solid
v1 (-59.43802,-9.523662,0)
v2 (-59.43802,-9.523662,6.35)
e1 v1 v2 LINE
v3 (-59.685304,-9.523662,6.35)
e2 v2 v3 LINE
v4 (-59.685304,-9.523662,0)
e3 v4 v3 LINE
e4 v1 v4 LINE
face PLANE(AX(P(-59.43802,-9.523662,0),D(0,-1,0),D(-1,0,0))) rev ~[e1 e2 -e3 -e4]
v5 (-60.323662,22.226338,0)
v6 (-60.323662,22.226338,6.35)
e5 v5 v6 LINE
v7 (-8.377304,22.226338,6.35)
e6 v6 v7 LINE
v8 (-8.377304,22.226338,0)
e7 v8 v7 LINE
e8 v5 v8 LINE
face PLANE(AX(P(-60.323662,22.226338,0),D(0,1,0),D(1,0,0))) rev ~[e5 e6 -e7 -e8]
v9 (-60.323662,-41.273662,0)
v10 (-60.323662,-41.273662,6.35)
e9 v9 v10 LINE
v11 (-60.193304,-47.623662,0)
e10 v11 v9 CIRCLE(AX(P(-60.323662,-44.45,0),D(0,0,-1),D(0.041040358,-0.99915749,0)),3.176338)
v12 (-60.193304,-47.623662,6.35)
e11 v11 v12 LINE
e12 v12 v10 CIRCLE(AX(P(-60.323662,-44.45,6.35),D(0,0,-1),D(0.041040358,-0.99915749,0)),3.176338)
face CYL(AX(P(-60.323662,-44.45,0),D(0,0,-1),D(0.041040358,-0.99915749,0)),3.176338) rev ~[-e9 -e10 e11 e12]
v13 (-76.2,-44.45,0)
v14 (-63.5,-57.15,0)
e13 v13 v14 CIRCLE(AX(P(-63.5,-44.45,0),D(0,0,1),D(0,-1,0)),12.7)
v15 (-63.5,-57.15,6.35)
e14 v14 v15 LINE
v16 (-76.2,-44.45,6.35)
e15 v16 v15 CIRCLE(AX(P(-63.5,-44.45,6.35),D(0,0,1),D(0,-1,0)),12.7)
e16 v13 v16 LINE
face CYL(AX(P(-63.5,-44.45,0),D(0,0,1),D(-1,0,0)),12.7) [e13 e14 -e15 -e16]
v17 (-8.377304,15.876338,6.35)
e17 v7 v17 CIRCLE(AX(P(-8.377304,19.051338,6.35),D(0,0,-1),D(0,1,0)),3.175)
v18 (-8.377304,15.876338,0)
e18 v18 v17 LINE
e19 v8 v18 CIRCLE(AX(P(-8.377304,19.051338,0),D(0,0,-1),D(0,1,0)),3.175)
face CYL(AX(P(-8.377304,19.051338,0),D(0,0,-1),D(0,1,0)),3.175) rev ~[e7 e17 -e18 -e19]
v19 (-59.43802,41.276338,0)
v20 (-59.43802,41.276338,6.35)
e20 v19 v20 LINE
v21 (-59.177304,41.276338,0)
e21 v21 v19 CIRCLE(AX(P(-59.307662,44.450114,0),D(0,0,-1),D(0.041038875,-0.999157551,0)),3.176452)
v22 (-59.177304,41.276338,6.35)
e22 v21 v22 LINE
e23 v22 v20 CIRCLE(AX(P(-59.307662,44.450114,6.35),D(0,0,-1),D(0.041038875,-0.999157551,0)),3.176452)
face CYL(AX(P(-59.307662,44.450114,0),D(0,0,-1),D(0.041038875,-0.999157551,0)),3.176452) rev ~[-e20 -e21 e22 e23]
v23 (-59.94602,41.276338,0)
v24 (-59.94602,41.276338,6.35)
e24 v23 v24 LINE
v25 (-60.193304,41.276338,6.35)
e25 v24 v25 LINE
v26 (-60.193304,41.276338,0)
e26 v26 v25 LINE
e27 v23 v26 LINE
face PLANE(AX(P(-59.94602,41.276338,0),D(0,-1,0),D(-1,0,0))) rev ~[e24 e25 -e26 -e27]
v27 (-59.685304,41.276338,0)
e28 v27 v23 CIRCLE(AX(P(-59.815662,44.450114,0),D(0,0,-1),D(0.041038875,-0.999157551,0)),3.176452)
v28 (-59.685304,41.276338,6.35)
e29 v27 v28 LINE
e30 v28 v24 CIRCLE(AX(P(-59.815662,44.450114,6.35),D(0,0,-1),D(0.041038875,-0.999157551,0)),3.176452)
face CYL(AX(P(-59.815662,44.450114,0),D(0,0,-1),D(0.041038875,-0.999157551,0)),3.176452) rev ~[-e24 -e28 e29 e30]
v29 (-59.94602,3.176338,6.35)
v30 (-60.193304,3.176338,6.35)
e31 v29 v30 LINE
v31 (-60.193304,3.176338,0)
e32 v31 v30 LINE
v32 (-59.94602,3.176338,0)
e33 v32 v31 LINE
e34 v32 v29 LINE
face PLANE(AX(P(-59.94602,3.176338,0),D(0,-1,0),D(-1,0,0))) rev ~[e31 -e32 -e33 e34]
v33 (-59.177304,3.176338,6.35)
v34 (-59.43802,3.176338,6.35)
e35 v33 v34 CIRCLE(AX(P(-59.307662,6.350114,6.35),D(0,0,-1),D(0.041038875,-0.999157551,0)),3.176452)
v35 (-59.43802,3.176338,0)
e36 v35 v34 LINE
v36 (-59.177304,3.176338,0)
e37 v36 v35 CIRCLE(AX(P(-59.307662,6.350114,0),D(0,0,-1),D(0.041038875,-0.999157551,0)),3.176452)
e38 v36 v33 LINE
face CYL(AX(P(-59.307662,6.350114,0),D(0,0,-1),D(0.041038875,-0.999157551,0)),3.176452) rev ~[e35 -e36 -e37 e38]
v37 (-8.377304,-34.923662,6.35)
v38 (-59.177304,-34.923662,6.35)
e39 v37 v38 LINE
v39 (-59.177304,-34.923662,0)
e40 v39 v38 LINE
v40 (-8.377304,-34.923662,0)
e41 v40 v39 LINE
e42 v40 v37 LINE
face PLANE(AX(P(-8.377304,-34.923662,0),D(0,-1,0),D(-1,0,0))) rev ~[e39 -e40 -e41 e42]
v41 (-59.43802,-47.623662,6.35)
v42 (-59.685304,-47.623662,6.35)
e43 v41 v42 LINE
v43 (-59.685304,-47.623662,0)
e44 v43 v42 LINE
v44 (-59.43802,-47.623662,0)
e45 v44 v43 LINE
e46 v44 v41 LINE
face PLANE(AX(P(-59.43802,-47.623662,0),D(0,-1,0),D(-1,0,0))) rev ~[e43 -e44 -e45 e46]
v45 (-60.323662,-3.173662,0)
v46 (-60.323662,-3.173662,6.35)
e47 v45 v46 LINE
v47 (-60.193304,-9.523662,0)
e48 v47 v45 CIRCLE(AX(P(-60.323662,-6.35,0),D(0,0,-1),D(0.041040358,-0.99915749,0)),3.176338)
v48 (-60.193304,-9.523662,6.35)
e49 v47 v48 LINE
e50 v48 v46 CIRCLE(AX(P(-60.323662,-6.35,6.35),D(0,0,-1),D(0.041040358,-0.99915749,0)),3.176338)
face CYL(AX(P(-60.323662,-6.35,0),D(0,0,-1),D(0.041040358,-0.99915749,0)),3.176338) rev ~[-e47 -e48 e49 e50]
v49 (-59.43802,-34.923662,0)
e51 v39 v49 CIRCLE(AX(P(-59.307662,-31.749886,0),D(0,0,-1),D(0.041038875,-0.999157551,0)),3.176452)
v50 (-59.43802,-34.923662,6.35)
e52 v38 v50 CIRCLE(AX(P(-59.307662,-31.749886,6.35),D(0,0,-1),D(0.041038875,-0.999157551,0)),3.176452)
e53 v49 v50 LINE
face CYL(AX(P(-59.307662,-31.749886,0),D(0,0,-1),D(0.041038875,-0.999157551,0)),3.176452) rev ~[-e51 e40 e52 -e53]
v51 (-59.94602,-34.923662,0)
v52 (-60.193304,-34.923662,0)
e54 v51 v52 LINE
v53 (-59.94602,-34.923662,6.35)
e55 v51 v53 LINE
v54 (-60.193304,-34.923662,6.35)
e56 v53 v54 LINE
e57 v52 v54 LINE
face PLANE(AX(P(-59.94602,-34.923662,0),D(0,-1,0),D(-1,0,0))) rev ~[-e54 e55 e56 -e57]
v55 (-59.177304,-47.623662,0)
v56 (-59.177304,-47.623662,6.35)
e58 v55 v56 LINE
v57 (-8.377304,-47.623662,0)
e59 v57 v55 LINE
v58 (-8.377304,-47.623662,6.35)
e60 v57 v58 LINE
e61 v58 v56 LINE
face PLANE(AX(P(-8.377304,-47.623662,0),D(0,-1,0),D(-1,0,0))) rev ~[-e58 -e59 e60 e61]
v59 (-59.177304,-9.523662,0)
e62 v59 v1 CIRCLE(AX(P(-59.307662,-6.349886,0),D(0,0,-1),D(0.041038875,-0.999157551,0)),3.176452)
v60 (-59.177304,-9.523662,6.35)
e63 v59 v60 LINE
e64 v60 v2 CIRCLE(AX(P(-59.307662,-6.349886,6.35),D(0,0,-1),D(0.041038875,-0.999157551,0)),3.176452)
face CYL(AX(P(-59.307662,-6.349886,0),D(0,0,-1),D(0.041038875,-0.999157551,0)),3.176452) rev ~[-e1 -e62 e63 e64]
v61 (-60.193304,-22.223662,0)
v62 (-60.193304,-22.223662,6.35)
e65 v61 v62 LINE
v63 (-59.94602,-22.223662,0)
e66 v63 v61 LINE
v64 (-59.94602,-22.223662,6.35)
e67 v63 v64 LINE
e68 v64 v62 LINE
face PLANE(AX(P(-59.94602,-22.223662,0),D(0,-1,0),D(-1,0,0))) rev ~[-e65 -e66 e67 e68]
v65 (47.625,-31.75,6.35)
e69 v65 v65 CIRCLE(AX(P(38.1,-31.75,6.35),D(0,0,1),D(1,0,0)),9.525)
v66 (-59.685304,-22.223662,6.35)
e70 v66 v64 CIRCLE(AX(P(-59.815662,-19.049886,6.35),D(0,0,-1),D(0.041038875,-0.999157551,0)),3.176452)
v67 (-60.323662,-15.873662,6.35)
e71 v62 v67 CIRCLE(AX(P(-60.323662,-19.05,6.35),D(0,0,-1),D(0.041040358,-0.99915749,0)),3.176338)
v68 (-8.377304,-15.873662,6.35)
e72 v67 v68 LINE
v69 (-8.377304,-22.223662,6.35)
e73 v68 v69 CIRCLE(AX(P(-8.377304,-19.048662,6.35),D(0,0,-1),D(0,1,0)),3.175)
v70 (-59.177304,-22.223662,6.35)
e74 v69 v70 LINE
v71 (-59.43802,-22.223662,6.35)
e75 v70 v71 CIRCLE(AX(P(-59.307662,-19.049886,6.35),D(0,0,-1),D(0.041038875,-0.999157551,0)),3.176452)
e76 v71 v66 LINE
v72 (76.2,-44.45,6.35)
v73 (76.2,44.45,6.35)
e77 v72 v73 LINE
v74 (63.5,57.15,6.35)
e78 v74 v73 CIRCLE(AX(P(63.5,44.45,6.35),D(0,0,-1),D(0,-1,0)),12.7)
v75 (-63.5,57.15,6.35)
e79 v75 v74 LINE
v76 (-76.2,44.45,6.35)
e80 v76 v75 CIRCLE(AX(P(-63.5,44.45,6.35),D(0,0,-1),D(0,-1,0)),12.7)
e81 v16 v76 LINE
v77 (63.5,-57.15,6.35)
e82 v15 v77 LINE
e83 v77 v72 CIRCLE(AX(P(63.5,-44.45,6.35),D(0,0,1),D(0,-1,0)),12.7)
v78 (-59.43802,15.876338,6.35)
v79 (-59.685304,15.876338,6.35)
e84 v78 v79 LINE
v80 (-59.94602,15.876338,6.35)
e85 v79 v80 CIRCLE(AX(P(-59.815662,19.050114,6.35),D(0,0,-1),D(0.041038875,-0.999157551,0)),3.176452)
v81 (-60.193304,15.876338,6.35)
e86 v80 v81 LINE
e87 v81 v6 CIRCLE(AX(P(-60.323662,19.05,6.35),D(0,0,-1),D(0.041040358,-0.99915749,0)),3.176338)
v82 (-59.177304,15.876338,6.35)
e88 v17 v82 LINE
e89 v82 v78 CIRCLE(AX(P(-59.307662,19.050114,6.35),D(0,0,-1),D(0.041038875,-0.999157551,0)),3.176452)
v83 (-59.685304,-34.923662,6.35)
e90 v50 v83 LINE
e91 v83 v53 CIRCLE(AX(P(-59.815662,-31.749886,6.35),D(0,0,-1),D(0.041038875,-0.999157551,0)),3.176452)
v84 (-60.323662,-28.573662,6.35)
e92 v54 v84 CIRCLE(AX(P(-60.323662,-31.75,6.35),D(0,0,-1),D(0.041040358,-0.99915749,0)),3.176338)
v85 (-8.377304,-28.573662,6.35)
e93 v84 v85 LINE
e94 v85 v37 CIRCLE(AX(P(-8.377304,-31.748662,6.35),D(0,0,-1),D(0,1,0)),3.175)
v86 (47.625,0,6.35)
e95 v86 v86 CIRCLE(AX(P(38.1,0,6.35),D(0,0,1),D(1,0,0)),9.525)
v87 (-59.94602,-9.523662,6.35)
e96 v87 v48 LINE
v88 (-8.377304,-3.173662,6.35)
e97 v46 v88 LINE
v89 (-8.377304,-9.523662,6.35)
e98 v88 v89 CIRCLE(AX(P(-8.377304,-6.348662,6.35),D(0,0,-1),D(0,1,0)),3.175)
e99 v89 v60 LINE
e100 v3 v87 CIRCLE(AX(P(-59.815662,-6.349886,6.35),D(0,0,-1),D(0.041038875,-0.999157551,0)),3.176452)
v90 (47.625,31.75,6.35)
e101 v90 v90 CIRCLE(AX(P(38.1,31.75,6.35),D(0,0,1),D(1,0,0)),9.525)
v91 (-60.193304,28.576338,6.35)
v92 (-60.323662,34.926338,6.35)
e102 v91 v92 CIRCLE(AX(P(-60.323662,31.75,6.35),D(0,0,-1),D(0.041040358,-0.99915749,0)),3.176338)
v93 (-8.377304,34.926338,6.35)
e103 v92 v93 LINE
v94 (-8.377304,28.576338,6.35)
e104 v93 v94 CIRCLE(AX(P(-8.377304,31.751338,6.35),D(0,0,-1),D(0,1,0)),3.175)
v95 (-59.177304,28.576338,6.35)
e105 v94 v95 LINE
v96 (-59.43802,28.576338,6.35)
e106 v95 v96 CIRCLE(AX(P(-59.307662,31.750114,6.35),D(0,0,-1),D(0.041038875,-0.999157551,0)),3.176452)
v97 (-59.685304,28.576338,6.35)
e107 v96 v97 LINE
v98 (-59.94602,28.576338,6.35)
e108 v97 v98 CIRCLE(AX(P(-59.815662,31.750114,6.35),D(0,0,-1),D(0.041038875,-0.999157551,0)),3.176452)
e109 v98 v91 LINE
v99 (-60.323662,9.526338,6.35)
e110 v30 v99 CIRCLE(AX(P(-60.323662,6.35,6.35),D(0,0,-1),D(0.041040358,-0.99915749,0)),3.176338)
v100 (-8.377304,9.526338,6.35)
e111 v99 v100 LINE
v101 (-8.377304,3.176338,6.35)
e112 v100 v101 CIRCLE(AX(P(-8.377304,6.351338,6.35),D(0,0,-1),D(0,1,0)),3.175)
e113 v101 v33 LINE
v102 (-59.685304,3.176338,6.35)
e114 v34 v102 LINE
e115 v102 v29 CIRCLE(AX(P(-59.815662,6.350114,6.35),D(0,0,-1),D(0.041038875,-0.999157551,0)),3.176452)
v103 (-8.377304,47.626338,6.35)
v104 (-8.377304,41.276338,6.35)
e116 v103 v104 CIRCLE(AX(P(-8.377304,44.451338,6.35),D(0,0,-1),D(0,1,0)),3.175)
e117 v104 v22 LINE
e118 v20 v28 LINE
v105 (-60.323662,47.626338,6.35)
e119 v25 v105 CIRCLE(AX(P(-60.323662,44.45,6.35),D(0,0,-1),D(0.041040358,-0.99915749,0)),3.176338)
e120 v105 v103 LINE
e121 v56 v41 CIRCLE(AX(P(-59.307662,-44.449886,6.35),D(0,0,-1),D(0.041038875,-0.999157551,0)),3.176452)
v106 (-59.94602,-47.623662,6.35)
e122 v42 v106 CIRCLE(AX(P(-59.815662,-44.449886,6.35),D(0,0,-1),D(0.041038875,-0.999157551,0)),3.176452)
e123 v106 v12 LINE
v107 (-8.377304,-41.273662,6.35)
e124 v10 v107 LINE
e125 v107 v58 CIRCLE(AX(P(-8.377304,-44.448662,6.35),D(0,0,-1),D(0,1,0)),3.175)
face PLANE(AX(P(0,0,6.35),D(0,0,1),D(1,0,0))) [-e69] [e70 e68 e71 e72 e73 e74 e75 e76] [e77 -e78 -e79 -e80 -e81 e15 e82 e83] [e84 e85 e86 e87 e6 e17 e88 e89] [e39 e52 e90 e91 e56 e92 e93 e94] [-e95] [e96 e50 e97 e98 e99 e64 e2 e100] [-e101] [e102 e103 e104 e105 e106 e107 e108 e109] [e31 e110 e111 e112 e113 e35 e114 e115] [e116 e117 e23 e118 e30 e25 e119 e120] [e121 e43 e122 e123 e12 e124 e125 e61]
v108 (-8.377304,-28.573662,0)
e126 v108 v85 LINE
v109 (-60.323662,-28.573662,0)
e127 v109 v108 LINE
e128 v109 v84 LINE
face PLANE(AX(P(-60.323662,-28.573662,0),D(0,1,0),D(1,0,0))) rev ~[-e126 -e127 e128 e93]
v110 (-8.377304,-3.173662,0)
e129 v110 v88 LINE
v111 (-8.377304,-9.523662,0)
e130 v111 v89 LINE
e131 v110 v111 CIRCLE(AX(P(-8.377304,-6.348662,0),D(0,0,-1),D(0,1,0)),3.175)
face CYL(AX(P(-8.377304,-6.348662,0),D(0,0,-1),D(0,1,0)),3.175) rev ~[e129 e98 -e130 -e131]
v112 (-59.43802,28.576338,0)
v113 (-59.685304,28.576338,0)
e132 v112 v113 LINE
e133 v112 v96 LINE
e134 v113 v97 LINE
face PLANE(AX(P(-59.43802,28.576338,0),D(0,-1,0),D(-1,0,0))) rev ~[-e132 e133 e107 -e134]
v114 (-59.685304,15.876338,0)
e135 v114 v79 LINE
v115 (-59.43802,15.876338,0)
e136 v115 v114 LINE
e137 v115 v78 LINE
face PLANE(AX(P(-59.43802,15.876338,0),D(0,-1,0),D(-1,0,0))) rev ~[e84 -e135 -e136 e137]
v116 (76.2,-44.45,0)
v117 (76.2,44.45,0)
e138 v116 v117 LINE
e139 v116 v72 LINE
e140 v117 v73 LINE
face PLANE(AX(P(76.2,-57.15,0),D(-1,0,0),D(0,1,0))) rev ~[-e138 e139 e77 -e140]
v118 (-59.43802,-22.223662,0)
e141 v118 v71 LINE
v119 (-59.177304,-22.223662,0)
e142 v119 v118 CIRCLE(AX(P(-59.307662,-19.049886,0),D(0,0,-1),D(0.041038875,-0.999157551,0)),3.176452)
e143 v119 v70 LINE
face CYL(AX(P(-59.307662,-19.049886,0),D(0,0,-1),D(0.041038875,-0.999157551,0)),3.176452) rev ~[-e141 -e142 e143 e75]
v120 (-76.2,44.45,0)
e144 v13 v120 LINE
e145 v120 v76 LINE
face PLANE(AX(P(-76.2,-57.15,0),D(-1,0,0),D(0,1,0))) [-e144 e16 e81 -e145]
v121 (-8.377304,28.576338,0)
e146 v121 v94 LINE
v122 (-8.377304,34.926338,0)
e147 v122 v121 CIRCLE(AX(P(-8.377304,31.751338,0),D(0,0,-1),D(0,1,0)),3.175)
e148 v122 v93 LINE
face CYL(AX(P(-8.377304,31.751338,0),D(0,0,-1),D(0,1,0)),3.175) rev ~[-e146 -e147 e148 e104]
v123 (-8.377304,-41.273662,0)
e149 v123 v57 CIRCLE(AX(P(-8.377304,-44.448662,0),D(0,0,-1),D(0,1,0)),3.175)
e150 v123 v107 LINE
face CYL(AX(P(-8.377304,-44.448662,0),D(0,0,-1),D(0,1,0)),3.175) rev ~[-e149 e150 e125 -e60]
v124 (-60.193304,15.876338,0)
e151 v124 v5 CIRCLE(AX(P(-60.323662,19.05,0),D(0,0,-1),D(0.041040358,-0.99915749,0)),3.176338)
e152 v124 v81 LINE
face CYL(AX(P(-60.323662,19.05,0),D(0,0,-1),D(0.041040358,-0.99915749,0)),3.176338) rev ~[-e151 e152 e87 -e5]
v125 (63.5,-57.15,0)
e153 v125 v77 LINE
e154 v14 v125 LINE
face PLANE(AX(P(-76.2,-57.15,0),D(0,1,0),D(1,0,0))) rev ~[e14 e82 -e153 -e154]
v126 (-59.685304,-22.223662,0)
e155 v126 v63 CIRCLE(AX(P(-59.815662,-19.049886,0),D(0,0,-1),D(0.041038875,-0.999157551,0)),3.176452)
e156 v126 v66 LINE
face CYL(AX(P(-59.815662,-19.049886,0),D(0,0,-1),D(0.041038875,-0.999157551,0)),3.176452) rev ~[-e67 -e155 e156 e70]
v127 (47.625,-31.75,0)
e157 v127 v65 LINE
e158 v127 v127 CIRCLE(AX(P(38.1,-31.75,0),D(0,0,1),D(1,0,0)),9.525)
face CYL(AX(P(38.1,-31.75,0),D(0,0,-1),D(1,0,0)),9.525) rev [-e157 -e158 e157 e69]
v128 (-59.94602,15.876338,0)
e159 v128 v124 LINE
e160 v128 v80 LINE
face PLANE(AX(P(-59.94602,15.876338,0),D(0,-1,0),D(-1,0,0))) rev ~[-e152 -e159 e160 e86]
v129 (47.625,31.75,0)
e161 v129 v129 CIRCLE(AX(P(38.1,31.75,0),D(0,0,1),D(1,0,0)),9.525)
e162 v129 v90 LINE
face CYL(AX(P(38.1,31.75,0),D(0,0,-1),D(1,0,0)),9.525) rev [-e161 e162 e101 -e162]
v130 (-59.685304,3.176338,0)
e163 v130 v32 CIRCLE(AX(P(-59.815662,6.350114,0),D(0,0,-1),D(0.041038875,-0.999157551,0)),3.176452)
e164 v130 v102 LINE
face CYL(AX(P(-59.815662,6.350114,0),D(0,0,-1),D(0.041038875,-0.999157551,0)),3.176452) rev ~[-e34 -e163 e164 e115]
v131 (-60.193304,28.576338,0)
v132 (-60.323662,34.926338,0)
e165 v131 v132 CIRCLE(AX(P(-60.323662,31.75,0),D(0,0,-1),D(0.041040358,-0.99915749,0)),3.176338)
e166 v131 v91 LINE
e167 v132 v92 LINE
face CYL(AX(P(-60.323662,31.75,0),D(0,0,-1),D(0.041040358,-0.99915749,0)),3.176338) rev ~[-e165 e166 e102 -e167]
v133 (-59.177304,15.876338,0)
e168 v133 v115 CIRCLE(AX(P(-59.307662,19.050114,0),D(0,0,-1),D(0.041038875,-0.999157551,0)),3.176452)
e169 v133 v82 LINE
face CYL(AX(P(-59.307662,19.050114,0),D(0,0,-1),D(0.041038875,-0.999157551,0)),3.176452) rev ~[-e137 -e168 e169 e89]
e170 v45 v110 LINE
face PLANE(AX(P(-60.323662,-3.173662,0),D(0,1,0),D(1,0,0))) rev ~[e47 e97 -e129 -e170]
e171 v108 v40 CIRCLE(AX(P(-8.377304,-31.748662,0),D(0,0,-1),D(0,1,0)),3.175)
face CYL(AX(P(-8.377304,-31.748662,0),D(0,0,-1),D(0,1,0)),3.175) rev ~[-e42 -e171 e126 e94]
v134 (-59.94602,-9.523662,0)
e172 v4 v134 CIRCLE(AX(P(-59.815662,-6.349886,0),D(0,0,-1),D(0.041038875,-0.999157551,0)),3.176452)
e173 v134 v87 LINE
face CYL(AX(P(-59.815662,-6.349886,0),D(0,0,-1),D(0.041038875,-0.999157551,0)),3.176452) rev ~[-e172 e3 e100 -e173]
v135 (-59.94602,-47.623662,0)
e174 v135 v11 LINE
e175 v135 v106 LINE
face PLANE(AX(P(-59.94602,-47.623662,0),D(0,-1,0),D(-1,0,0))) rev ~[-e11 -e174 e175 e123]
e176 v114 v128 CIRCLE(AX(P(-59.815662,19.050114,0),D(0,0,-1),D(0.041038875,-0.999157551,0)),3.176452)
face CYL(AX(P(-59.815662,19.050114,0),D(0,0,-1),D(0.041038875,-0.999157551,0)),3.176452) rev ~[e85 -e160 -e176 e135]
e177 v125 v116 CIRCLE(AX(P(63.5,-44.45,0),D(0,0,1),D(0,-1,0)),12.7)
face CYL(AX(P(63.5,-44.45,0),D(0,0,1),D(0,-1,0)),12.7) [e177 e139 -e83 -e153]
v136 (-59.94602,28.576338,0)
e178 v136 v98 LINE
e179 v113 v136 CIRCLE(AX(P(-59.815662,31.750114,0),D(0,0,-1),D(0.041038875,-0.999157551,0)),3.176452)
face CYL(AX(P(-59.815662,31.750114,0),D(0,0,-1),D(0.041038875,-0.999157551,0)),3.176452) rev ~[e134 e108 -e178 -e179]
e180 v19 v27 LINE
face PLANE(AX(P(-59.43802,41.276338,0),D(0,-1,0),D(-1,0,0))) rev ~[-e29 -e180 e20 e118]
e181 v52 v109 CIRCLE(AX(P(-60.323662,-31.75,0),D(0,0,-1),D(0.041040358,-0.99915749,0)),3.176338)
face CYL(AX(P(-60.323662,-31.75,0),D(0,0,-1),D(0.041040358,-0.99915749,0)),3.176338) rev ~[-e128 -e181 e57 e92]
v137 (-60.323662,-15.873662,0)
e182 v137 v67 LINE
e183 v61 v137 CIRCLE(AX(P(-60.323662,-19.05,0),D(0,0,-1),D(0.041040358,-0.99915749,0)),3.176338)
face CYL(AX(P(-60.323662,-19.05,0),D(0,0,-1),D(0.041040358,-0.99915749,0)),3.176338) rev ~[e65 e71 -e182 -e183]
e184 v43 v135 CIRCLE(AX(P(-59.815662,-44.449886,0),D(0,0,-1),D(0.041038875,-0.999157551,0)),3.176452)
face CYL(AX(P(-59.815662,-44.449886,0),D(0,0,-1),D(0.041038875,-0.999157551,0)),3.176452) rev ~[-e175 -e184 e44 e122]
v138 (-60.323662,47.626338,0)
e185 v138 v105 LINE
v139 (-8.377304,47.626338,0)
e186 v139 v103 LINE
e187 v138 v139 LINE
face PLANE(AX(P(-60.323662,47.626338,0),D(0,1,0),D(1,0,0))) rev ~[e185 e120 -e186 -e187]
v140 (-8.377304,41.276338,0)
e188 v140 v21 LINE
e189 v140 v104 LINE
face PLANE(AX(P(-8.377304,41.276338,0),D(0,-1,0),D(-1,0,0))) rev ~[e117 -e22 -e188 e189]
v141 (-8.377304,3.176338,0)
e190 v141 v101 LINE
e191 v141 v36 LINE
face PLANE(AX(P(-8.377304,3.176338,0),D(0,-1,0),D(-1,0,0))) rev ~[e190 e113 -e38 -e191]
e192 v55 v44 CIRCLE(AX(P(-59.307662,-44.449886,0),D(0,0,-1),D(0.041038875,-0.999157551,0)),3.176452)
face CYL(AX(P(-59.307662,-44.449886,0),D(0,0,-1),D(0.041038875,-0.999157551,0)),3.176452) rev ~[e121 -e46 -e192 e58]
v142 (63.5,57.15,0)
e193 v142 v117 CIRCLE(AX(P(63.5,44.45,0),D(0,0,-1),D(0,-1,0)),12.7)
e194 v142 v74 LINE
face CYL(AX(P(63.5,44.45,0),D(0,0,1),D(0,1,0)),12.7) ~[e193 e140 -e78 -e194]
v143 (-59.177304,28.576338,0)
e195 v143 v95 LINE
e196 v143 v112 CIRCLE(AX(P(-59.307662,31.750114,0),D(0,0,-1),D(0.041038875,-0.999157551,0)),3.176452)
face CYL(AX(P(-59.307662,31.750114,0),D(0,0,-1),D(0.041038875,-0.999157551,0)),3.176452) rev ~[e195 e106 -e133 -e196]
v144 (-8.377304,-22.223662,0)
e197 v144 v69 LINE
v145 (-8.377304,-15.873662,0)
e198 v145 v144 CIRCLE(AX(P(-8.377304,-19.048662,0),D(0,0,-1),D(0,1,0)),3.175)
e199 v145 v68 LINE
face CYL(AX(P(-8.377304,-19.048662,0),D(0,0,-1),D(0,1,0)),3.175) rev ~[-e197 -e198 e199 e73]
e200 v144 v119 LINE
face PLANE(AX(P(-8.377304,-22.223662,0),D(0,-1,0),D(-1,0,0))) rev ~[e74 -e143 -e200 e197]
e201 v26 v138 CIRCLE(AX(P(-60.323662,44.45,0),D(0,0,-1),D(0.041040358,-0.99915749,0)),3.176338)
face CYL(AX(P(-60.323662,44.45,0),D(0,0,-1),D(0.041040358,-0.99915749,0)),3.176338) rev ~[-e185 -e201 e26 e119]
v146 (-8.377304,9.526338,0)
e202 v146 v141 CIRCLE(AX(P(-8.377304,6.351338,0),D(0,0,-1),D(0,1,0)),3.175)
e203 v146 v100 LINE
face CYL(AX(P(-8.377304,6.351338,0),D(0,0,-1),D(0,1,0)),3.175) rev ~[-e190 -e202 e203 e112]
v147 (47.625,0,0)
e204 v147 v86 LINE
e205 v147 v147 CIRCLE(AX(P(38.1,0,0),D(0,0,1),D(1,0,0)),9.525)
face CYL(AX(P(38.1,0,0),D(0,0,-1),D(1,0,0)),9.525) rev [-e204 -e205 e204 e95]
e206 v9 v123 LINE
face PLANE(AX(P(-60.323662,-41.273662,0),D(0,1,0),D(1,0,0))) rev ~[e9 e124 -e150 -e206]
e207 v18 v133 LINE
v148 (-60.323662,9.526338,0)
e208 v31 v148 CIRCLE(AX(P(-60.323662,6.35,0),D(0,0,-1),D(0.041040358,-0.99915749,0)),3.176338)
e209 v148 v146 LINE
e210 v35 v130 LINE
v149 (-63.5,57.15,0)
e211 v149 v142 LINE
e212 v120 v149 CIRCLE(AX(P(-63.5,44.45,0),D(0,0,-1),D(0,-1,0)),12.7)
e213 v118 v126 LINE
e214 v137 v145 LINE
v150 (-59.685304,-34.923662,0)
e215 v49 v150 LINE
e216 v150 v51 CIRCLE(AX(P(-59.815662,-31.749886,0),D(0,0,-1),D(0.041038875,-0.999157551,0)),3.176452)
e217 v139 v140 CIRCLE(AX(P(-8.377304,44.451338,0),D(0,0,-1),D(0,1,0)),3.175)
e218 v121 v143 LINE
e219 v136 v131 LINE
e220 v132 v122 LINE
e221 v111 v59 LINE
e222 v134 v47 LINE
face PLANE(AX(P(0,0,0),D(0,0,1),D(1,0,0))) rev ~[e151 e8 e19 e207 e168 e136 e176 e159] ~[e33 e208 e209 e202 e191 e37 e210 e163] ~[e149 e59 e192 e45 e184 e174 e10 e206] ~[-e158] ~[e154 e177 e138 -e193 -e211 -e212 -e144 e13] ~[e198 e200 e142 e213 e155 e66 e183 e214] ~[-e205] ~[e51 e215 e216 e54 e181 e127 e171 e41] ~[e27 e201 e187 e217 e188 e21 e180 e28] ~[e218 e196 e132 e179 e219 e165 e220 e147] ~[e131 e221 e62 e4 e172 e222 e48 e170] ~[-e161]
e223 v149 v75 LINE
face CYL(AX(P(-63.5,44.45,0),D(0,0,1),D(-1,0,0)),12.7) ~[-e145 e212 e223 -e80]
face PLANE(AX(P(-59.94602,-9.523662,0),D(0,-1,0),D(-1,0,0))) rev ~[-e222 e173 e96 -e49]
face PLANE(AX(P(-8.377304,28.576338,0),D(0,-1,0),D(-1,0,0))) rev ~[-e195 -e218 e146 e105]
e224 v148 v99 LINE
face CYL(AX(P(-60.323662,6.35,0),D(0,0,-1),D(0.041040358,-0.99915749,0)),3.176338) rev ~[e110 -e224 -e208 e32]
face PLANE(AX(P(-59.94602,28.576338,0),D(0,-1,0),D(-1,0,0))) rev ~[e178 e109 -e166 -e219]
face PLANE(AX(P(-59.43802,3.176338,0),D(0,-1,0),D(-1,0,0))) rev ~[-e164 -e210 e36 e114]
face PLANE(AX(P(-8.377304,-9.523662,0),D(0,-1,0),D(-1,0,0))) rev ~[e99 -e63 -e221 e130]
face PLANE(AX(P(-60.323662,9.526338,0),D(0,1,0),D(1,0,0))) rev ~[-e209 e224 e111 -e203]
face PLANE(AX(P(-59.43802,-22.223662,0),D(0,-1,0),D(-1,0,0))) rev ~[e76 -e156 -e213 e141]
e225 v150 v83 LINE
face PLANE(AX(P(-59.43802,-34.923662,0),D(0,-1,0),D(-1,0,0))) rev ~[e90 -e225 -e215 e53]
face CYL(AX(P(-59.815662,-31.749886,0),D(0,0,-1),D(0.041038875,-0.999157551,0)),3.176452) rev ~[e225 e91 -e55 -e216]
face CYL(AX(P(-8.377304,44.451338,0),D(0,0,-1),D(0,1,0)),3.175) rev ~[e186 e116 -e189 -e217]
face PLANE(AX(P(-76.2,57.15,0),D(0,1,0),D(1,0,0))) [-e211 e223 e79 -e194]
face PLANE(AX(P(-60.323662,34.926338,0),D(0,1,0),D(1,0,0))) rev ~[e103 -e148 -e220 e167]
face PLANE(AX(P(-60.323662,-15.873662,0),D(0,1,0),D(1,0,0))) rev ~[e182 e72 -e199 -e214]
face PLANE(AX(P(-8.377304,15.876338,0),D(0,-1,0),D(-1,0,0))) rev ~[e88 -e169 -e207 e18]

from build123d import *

# Parameters (mm, degrees)
F0_W     = 152.4
F0_H     = 114.3
F0_R     = 9.525
F1_DEPTH = 6.35
F2_R     = 12.7


with BuildPart() as f1:
    # F0 (on Top) → F1 (new body)
    with BuildSketch(Plane.XY):
        Rectangle(F0_W, F0_H)
        with BuildLine():
            Line((-8.885304, -47.623662), (-9.393304, -47.623662))
            Line((-9.393304, -47.623662), (-59.177304, -47.623662))
            ThreePointArc((-59.177304, -47.623662), (-59.307662, -47.626338), (-59.43802, -47.623662))
            Line((-59.43802, -47.623662), (-59.685304, -47.623662))
            ThreePointArc((-59.685304, -47.623662), (-59.815662, -47.626338), (-59.94602, -47.623662))
            Line((-59.94602, -47.623662), (-60.193304, -47.623662))
            ThreePointArc((-60.193304, -47.623662), (-63.499331, -44.515193), (-60.323662, -41.273662))
            Line((-60.323662, -41.273662), (-59.815662, -41.273662))
            Line((-59.815662, -41.273662), (-59.307662, -41.273662))
            Line((-59.307662, -41.273662), (-9.393304, -41.273662))
            Line((-9.393304, -41.273662), (-8.885304, -41.273662))
            Line((-8.885304, -41.273662), (-8.377304, -41.273662))
            ThreePointArc((-8.377304, -41.273662), (-5.202304, -44.448662), (-8.377304, -47.623662))
            Line((-8.377304, -47.623662), (-8.885304, -47.623662))
        make_face(mode=Mode.SUBTRACT)
        with BuildLine():
            Line((-8.885304, -34.923662), (-9.393304, -34.923662))
            Line((-9.393304, -34.923662), (-59.177304, -34.923662))
            ThreePointArc((-59.177304, -34.923662), (-59.307662, -34.926338), (-59.43802, -34.923662))
            Line((-59.43802, -34.923662), (-59.685304, -34.923662))
            ThreePointArc((-59.685304, -34.923662), (-59.815662, -34.926338), (-59.94602, -34.923662))
            Line((-59.94602, -34.923662), (-60.193304, -34.923662))
            ThreePointArc((-60.193304, -34.923662), (-63.499331, -31.815193), (-60.323662, -28.573662))
            Line((-60.323662, -28.573662), (-59.815662, -28.573662))
            Line((-59.815662, -28.573662), (-59.307662, -28.573662))
            Line((-59.307662, -28.573662), (-9.393304, -28.573662))
            Line((-9.393304, -28.573662), (-8.885304, -28.573662))
            Line((-8.885304, -28.573662), (-8.377304, -28.573662))
            ThreePointArc((-8.377304, -28.573662), (-5.202304, -31.748662), (-8.377304, -34.923662))
            Line((-8.377304, -34.923662), (-8.885304, -34.923662))
        make_face(mode=Mode.SUBTRACT)
        with BuildLine():
            Line((-8.885304, -22.223662), (-9.393304, -22.223662))
            Line((-9.393304, -22.223662), (-59.177304, -22.223662))
            ThreePointArc((-59.177304, -22.223662), (-59.307662, -22.226338), (-59.43802, -22.223662))
            Line((-59.43802, -22.223662), (-59.685304, -22.223662))
            ThreePointArc((-59.685304, -22.223662), (-59.815662, -22.226338), (-59.94602, -22.223662))
            Line((-59.94602, -22.223662), (-60.193304, -22.223662))
            ThreePointArc((-60.193304, -22.223662), (-63.499331, -19.115193), (-60.323662, -15.873662))
            Line((-60.323662, -15.873662), (-59.815662, -15.873662))
            Line((-59.815662, -15.873662), (-59.307662, -15.873662))
            Line((-59.307662, -15.873662), (-9.393304, -15.873662))
            Line((-9.393304, -15.873662), (-8.885304, -15.873662))
            Line((-8.885304, -15.873662), (-8.377304, -15.873662))
            ThreePointArc((-8.377304, -15.873662), (-5.202304, -19.048662), (-8.377304, -22.223662))
            Line((-8.377304, -22.223662), (-8.885304, -22.223662))
        make_face(mode=Mode.SUBTRACT)
        with BuildLine():
            Line((-8.885304, -9.523662), (-9.393304, -9.523662))
            Line((-9.393304, -9.523662), (-59.177304, -9.523662))
            ThreePointArc((-59.177304, -9.523662), (-59.307662, -9.526338), (-59.43802, -9.523662))
            Line((-59.43802, -9.523662), (-59.685304, -9.523662))
            ThreePointArc((-59.685304, -9.523662), (-59.815662, -9.526338), (-59.94602, -9.523662))
            Line((-59.94602, -9.523662), (-60.193304, -9.523662))
            ThreePointArc((-60.193304, -9.523662), (-63.499331, -6.415193), (-60.323662, -3.173662))
            Line((-60.323662, -3.173662), (-59.815662, -3.173662))
            Line((-59.815662, -3.173662), (-59.307662, -3.173662))
            Line((-59.307662, -3.173662), (-9.393304, -3.173662))
            Line((-9.393304, -3.173662), (-8.885304, -3.173662))
            Line((-8.885304, -3.173662), (-8.377304, -3.173662))
            ThreePointArc((-8.377304, -3.173662), (-5.202304, -6.348662), (-8.377304, -9.523662))
            Line((-8.377304, -9.523662), (-8.885304, -9.523662))
        make_face(mode=Mode.SUBTRACT)
        with Locations((38.1, -31.75)):
            Circle(F0_R, mode=Mode.SUBTRACT)
        with BuildLine():
            Line((-8.885304, 3.176338), (-9.393304, 3.176338))
            Line((-9.393304, 3.176338), (-59.177304, 3.176338))
            ThreePointArc((-59.177304, 3.176338), (-59.307662, 3.173662), (-59.43802, 3.176338))
            Line((-59.43802, 3.176338), (-59.685304, 3.176338))
            ThreePointArc((-59.685304, 3.176338), (-59.815662, 3.173662), (-59.94602, 3.176338))
            Line((-59.94602, 3.176338), (-60.193304, 3.176338))
            ThreePointArc((-60.193304, 3.176338), (-63.499331, 6.284807), (-60.323662, 9.526338))
            Line((-60.323662, 9.526338), (-59.815662, 9.526338))
            Line((-59.815662, 9.526338), (-59.307662, 9.526338))
            Line((-59.307662, 9.526338), (-9.393304, 9.526338))
            Line((-9.393304, 9.526338), (-8.885304, 9.526338))
            Line((-8.885304, 9.526338), (-8.377304, 9.526338))
            ThreePointArc((-8.377304, 9.526338), (-5.202304, 6.351338), (-8.377304, 3.176338))
            Line((-8.377304, 3.176338), (-8.885304, 3.176338))
        make_face(mode=Mode.SUBTRACT)
        with BuildLine():
            Line((-8.885304, 15.876338), (-9.393304, 15.876338))
            Line((-9.393304, 15.876338), (-59.177304, 15.876338))
            ThreePointArc((-59.177304, 15.876338), (-59.307662, 15.873662), (-59.43802, 15.876338))
            Line((-59.43802, 15.876338), (-59.685304, 15.876338))
            ThreePointArc((-59.685304, 15.876338), (-59.815662, 15.873662), (-59.94602, 15.876338))
            Line((-59.94602, 15.876338), (-60.193304, 15.876338))
            ThreePointArc((-60.193304, 15.876338), (-63.499331, 18.984807), (-60.323662, 22.226338))
            Line((-60.323662, 22.226338), (-59.815662, 22.226338))
            Line((-59.815662, 22.226338), (-59.307662, 22.226338))
            Line((-59.307662, 22.226338), (-9.393304, 22.226338))
            Line((-9.393304, 22.226338), (-8.885304, 22.226338))
            Line((-8.885304, 22.226338), (-8.377304, 22.226338))
            ThreePointArc((-8.377304, 22.226338), (-5.202304, 19.051338), (-8.377304, 15.876338))
            Line((-8.377304, 15.876338), (-8.885304, 15.876338))
        make_face(mode=Mode.SUBTRACT)
        with BuildLine():
            Line((-8.885304, 28.576338), (-9.393304, 28.576338))
            Line((-9.393304, 28.576338), (-59.177304, 28.576338))
            ThreePointArc((-59.177304, 28.576338), (-59.307662, 28.573662), (-59.43802, 28.576338))
            Line((-59.43802, 28.576338), (-59.685304, 28.576338))
            ThreePointArc((-59.685304, 28.576338), (-59.815662, 28.573662), (-59.94602, 28.576338))
            Line((-59.94602, 28.576338), (-60.193304, 28.576338))
            ThreePointArc((-60.193304, 28.576338), (-63.499331, 31.684807), (-60.323662, 34.926338))
            Line((-60.323662, 34.926338), (-59.815662, 34.926338))
            Line((-59.815662, 34.926338), (-59.307662, 34.926338))
            Line((-59.307662, 34.926338), (-9.393304, 34.926338))
            Line((-9.393304, 34.926338), (-8.885304, 34.926338))
            Line((-8.885304, 34.926338), (-8.377304, 34.926338))
            ThreePointArc((-8.377304, 34.926338), (-5.202304, 31.751338), (-8.377304, 28.576338))
            Line((-8.377304, 28.576338), (-8.885304, 28.576338))
        make_face(mode=Mode.SUBTRACT)
        with BuildLine():
            Line((-8.885304, 41.276338), (-9.393304, 41.276338))
            Line((-9.393304, 41.276338), (-59.177304, 41.276338))
            ThreePointArc((-59.177304, 41.276338), (-59.307662, 41.273662), (-59.43802, 41.276338))
            Line((-59.43802, 41.276338), (-59.685304, 41.276338))
            ThreePointArc((-59.685304, 41.276338), (-59.815662, 41.273662), (-59.94602, 41.276338))
            Line((-59.94602, 41.276338), (-60.193304, 41.276338))
            ThreePointArc((-60.193304, 41.276338), (-63.499331, 44.384807), (-60.323662, 47.626338))
            Line((-60.323662, 47.626338), (-59.815662, 47.626338))
            Line((-59.815662, 47.626338), (-59.307662, 47.626338))
            Line((-59.307662, 47.626338), (-9.393304, 47.626338))
            Line((-9.393304, 47.626338), (-8.885304, 47.626338))
            Line((-8.885304, 47.626338), (-8.377304, 47.626338))
            ThreePointArc((-8.377304, 47.626338), (-5.202304, 44.451338), (-8.377304, 41.276338))
            Line((-8.377304, 41.276338), (-8.885304, 41.276338))
        make_face(mode=Mode.SUBTRACT)
        with Locations((38.1, 0)):
            Circle(F0_R, mode=Mode.SUBTRACT)
        with Locations((38.1, 31.75)):
            Circle(F0_R, mode=Mode.SUBTRACT)
    extrude(amount=F1_DEPTH)

    # F2
    f2_edges = [f1.edges().sort_by_distance(p)[0] for p in [
        (-76.2, 57.15, 3.175),
        (-76.2, -57.15, 3.175),
        (76.2, 57.15, 3.175),
        (76.2, -57.15, 3.175),
    ]]
    fillet(f2_edges, radius=F2_R)


solid = f1.part
